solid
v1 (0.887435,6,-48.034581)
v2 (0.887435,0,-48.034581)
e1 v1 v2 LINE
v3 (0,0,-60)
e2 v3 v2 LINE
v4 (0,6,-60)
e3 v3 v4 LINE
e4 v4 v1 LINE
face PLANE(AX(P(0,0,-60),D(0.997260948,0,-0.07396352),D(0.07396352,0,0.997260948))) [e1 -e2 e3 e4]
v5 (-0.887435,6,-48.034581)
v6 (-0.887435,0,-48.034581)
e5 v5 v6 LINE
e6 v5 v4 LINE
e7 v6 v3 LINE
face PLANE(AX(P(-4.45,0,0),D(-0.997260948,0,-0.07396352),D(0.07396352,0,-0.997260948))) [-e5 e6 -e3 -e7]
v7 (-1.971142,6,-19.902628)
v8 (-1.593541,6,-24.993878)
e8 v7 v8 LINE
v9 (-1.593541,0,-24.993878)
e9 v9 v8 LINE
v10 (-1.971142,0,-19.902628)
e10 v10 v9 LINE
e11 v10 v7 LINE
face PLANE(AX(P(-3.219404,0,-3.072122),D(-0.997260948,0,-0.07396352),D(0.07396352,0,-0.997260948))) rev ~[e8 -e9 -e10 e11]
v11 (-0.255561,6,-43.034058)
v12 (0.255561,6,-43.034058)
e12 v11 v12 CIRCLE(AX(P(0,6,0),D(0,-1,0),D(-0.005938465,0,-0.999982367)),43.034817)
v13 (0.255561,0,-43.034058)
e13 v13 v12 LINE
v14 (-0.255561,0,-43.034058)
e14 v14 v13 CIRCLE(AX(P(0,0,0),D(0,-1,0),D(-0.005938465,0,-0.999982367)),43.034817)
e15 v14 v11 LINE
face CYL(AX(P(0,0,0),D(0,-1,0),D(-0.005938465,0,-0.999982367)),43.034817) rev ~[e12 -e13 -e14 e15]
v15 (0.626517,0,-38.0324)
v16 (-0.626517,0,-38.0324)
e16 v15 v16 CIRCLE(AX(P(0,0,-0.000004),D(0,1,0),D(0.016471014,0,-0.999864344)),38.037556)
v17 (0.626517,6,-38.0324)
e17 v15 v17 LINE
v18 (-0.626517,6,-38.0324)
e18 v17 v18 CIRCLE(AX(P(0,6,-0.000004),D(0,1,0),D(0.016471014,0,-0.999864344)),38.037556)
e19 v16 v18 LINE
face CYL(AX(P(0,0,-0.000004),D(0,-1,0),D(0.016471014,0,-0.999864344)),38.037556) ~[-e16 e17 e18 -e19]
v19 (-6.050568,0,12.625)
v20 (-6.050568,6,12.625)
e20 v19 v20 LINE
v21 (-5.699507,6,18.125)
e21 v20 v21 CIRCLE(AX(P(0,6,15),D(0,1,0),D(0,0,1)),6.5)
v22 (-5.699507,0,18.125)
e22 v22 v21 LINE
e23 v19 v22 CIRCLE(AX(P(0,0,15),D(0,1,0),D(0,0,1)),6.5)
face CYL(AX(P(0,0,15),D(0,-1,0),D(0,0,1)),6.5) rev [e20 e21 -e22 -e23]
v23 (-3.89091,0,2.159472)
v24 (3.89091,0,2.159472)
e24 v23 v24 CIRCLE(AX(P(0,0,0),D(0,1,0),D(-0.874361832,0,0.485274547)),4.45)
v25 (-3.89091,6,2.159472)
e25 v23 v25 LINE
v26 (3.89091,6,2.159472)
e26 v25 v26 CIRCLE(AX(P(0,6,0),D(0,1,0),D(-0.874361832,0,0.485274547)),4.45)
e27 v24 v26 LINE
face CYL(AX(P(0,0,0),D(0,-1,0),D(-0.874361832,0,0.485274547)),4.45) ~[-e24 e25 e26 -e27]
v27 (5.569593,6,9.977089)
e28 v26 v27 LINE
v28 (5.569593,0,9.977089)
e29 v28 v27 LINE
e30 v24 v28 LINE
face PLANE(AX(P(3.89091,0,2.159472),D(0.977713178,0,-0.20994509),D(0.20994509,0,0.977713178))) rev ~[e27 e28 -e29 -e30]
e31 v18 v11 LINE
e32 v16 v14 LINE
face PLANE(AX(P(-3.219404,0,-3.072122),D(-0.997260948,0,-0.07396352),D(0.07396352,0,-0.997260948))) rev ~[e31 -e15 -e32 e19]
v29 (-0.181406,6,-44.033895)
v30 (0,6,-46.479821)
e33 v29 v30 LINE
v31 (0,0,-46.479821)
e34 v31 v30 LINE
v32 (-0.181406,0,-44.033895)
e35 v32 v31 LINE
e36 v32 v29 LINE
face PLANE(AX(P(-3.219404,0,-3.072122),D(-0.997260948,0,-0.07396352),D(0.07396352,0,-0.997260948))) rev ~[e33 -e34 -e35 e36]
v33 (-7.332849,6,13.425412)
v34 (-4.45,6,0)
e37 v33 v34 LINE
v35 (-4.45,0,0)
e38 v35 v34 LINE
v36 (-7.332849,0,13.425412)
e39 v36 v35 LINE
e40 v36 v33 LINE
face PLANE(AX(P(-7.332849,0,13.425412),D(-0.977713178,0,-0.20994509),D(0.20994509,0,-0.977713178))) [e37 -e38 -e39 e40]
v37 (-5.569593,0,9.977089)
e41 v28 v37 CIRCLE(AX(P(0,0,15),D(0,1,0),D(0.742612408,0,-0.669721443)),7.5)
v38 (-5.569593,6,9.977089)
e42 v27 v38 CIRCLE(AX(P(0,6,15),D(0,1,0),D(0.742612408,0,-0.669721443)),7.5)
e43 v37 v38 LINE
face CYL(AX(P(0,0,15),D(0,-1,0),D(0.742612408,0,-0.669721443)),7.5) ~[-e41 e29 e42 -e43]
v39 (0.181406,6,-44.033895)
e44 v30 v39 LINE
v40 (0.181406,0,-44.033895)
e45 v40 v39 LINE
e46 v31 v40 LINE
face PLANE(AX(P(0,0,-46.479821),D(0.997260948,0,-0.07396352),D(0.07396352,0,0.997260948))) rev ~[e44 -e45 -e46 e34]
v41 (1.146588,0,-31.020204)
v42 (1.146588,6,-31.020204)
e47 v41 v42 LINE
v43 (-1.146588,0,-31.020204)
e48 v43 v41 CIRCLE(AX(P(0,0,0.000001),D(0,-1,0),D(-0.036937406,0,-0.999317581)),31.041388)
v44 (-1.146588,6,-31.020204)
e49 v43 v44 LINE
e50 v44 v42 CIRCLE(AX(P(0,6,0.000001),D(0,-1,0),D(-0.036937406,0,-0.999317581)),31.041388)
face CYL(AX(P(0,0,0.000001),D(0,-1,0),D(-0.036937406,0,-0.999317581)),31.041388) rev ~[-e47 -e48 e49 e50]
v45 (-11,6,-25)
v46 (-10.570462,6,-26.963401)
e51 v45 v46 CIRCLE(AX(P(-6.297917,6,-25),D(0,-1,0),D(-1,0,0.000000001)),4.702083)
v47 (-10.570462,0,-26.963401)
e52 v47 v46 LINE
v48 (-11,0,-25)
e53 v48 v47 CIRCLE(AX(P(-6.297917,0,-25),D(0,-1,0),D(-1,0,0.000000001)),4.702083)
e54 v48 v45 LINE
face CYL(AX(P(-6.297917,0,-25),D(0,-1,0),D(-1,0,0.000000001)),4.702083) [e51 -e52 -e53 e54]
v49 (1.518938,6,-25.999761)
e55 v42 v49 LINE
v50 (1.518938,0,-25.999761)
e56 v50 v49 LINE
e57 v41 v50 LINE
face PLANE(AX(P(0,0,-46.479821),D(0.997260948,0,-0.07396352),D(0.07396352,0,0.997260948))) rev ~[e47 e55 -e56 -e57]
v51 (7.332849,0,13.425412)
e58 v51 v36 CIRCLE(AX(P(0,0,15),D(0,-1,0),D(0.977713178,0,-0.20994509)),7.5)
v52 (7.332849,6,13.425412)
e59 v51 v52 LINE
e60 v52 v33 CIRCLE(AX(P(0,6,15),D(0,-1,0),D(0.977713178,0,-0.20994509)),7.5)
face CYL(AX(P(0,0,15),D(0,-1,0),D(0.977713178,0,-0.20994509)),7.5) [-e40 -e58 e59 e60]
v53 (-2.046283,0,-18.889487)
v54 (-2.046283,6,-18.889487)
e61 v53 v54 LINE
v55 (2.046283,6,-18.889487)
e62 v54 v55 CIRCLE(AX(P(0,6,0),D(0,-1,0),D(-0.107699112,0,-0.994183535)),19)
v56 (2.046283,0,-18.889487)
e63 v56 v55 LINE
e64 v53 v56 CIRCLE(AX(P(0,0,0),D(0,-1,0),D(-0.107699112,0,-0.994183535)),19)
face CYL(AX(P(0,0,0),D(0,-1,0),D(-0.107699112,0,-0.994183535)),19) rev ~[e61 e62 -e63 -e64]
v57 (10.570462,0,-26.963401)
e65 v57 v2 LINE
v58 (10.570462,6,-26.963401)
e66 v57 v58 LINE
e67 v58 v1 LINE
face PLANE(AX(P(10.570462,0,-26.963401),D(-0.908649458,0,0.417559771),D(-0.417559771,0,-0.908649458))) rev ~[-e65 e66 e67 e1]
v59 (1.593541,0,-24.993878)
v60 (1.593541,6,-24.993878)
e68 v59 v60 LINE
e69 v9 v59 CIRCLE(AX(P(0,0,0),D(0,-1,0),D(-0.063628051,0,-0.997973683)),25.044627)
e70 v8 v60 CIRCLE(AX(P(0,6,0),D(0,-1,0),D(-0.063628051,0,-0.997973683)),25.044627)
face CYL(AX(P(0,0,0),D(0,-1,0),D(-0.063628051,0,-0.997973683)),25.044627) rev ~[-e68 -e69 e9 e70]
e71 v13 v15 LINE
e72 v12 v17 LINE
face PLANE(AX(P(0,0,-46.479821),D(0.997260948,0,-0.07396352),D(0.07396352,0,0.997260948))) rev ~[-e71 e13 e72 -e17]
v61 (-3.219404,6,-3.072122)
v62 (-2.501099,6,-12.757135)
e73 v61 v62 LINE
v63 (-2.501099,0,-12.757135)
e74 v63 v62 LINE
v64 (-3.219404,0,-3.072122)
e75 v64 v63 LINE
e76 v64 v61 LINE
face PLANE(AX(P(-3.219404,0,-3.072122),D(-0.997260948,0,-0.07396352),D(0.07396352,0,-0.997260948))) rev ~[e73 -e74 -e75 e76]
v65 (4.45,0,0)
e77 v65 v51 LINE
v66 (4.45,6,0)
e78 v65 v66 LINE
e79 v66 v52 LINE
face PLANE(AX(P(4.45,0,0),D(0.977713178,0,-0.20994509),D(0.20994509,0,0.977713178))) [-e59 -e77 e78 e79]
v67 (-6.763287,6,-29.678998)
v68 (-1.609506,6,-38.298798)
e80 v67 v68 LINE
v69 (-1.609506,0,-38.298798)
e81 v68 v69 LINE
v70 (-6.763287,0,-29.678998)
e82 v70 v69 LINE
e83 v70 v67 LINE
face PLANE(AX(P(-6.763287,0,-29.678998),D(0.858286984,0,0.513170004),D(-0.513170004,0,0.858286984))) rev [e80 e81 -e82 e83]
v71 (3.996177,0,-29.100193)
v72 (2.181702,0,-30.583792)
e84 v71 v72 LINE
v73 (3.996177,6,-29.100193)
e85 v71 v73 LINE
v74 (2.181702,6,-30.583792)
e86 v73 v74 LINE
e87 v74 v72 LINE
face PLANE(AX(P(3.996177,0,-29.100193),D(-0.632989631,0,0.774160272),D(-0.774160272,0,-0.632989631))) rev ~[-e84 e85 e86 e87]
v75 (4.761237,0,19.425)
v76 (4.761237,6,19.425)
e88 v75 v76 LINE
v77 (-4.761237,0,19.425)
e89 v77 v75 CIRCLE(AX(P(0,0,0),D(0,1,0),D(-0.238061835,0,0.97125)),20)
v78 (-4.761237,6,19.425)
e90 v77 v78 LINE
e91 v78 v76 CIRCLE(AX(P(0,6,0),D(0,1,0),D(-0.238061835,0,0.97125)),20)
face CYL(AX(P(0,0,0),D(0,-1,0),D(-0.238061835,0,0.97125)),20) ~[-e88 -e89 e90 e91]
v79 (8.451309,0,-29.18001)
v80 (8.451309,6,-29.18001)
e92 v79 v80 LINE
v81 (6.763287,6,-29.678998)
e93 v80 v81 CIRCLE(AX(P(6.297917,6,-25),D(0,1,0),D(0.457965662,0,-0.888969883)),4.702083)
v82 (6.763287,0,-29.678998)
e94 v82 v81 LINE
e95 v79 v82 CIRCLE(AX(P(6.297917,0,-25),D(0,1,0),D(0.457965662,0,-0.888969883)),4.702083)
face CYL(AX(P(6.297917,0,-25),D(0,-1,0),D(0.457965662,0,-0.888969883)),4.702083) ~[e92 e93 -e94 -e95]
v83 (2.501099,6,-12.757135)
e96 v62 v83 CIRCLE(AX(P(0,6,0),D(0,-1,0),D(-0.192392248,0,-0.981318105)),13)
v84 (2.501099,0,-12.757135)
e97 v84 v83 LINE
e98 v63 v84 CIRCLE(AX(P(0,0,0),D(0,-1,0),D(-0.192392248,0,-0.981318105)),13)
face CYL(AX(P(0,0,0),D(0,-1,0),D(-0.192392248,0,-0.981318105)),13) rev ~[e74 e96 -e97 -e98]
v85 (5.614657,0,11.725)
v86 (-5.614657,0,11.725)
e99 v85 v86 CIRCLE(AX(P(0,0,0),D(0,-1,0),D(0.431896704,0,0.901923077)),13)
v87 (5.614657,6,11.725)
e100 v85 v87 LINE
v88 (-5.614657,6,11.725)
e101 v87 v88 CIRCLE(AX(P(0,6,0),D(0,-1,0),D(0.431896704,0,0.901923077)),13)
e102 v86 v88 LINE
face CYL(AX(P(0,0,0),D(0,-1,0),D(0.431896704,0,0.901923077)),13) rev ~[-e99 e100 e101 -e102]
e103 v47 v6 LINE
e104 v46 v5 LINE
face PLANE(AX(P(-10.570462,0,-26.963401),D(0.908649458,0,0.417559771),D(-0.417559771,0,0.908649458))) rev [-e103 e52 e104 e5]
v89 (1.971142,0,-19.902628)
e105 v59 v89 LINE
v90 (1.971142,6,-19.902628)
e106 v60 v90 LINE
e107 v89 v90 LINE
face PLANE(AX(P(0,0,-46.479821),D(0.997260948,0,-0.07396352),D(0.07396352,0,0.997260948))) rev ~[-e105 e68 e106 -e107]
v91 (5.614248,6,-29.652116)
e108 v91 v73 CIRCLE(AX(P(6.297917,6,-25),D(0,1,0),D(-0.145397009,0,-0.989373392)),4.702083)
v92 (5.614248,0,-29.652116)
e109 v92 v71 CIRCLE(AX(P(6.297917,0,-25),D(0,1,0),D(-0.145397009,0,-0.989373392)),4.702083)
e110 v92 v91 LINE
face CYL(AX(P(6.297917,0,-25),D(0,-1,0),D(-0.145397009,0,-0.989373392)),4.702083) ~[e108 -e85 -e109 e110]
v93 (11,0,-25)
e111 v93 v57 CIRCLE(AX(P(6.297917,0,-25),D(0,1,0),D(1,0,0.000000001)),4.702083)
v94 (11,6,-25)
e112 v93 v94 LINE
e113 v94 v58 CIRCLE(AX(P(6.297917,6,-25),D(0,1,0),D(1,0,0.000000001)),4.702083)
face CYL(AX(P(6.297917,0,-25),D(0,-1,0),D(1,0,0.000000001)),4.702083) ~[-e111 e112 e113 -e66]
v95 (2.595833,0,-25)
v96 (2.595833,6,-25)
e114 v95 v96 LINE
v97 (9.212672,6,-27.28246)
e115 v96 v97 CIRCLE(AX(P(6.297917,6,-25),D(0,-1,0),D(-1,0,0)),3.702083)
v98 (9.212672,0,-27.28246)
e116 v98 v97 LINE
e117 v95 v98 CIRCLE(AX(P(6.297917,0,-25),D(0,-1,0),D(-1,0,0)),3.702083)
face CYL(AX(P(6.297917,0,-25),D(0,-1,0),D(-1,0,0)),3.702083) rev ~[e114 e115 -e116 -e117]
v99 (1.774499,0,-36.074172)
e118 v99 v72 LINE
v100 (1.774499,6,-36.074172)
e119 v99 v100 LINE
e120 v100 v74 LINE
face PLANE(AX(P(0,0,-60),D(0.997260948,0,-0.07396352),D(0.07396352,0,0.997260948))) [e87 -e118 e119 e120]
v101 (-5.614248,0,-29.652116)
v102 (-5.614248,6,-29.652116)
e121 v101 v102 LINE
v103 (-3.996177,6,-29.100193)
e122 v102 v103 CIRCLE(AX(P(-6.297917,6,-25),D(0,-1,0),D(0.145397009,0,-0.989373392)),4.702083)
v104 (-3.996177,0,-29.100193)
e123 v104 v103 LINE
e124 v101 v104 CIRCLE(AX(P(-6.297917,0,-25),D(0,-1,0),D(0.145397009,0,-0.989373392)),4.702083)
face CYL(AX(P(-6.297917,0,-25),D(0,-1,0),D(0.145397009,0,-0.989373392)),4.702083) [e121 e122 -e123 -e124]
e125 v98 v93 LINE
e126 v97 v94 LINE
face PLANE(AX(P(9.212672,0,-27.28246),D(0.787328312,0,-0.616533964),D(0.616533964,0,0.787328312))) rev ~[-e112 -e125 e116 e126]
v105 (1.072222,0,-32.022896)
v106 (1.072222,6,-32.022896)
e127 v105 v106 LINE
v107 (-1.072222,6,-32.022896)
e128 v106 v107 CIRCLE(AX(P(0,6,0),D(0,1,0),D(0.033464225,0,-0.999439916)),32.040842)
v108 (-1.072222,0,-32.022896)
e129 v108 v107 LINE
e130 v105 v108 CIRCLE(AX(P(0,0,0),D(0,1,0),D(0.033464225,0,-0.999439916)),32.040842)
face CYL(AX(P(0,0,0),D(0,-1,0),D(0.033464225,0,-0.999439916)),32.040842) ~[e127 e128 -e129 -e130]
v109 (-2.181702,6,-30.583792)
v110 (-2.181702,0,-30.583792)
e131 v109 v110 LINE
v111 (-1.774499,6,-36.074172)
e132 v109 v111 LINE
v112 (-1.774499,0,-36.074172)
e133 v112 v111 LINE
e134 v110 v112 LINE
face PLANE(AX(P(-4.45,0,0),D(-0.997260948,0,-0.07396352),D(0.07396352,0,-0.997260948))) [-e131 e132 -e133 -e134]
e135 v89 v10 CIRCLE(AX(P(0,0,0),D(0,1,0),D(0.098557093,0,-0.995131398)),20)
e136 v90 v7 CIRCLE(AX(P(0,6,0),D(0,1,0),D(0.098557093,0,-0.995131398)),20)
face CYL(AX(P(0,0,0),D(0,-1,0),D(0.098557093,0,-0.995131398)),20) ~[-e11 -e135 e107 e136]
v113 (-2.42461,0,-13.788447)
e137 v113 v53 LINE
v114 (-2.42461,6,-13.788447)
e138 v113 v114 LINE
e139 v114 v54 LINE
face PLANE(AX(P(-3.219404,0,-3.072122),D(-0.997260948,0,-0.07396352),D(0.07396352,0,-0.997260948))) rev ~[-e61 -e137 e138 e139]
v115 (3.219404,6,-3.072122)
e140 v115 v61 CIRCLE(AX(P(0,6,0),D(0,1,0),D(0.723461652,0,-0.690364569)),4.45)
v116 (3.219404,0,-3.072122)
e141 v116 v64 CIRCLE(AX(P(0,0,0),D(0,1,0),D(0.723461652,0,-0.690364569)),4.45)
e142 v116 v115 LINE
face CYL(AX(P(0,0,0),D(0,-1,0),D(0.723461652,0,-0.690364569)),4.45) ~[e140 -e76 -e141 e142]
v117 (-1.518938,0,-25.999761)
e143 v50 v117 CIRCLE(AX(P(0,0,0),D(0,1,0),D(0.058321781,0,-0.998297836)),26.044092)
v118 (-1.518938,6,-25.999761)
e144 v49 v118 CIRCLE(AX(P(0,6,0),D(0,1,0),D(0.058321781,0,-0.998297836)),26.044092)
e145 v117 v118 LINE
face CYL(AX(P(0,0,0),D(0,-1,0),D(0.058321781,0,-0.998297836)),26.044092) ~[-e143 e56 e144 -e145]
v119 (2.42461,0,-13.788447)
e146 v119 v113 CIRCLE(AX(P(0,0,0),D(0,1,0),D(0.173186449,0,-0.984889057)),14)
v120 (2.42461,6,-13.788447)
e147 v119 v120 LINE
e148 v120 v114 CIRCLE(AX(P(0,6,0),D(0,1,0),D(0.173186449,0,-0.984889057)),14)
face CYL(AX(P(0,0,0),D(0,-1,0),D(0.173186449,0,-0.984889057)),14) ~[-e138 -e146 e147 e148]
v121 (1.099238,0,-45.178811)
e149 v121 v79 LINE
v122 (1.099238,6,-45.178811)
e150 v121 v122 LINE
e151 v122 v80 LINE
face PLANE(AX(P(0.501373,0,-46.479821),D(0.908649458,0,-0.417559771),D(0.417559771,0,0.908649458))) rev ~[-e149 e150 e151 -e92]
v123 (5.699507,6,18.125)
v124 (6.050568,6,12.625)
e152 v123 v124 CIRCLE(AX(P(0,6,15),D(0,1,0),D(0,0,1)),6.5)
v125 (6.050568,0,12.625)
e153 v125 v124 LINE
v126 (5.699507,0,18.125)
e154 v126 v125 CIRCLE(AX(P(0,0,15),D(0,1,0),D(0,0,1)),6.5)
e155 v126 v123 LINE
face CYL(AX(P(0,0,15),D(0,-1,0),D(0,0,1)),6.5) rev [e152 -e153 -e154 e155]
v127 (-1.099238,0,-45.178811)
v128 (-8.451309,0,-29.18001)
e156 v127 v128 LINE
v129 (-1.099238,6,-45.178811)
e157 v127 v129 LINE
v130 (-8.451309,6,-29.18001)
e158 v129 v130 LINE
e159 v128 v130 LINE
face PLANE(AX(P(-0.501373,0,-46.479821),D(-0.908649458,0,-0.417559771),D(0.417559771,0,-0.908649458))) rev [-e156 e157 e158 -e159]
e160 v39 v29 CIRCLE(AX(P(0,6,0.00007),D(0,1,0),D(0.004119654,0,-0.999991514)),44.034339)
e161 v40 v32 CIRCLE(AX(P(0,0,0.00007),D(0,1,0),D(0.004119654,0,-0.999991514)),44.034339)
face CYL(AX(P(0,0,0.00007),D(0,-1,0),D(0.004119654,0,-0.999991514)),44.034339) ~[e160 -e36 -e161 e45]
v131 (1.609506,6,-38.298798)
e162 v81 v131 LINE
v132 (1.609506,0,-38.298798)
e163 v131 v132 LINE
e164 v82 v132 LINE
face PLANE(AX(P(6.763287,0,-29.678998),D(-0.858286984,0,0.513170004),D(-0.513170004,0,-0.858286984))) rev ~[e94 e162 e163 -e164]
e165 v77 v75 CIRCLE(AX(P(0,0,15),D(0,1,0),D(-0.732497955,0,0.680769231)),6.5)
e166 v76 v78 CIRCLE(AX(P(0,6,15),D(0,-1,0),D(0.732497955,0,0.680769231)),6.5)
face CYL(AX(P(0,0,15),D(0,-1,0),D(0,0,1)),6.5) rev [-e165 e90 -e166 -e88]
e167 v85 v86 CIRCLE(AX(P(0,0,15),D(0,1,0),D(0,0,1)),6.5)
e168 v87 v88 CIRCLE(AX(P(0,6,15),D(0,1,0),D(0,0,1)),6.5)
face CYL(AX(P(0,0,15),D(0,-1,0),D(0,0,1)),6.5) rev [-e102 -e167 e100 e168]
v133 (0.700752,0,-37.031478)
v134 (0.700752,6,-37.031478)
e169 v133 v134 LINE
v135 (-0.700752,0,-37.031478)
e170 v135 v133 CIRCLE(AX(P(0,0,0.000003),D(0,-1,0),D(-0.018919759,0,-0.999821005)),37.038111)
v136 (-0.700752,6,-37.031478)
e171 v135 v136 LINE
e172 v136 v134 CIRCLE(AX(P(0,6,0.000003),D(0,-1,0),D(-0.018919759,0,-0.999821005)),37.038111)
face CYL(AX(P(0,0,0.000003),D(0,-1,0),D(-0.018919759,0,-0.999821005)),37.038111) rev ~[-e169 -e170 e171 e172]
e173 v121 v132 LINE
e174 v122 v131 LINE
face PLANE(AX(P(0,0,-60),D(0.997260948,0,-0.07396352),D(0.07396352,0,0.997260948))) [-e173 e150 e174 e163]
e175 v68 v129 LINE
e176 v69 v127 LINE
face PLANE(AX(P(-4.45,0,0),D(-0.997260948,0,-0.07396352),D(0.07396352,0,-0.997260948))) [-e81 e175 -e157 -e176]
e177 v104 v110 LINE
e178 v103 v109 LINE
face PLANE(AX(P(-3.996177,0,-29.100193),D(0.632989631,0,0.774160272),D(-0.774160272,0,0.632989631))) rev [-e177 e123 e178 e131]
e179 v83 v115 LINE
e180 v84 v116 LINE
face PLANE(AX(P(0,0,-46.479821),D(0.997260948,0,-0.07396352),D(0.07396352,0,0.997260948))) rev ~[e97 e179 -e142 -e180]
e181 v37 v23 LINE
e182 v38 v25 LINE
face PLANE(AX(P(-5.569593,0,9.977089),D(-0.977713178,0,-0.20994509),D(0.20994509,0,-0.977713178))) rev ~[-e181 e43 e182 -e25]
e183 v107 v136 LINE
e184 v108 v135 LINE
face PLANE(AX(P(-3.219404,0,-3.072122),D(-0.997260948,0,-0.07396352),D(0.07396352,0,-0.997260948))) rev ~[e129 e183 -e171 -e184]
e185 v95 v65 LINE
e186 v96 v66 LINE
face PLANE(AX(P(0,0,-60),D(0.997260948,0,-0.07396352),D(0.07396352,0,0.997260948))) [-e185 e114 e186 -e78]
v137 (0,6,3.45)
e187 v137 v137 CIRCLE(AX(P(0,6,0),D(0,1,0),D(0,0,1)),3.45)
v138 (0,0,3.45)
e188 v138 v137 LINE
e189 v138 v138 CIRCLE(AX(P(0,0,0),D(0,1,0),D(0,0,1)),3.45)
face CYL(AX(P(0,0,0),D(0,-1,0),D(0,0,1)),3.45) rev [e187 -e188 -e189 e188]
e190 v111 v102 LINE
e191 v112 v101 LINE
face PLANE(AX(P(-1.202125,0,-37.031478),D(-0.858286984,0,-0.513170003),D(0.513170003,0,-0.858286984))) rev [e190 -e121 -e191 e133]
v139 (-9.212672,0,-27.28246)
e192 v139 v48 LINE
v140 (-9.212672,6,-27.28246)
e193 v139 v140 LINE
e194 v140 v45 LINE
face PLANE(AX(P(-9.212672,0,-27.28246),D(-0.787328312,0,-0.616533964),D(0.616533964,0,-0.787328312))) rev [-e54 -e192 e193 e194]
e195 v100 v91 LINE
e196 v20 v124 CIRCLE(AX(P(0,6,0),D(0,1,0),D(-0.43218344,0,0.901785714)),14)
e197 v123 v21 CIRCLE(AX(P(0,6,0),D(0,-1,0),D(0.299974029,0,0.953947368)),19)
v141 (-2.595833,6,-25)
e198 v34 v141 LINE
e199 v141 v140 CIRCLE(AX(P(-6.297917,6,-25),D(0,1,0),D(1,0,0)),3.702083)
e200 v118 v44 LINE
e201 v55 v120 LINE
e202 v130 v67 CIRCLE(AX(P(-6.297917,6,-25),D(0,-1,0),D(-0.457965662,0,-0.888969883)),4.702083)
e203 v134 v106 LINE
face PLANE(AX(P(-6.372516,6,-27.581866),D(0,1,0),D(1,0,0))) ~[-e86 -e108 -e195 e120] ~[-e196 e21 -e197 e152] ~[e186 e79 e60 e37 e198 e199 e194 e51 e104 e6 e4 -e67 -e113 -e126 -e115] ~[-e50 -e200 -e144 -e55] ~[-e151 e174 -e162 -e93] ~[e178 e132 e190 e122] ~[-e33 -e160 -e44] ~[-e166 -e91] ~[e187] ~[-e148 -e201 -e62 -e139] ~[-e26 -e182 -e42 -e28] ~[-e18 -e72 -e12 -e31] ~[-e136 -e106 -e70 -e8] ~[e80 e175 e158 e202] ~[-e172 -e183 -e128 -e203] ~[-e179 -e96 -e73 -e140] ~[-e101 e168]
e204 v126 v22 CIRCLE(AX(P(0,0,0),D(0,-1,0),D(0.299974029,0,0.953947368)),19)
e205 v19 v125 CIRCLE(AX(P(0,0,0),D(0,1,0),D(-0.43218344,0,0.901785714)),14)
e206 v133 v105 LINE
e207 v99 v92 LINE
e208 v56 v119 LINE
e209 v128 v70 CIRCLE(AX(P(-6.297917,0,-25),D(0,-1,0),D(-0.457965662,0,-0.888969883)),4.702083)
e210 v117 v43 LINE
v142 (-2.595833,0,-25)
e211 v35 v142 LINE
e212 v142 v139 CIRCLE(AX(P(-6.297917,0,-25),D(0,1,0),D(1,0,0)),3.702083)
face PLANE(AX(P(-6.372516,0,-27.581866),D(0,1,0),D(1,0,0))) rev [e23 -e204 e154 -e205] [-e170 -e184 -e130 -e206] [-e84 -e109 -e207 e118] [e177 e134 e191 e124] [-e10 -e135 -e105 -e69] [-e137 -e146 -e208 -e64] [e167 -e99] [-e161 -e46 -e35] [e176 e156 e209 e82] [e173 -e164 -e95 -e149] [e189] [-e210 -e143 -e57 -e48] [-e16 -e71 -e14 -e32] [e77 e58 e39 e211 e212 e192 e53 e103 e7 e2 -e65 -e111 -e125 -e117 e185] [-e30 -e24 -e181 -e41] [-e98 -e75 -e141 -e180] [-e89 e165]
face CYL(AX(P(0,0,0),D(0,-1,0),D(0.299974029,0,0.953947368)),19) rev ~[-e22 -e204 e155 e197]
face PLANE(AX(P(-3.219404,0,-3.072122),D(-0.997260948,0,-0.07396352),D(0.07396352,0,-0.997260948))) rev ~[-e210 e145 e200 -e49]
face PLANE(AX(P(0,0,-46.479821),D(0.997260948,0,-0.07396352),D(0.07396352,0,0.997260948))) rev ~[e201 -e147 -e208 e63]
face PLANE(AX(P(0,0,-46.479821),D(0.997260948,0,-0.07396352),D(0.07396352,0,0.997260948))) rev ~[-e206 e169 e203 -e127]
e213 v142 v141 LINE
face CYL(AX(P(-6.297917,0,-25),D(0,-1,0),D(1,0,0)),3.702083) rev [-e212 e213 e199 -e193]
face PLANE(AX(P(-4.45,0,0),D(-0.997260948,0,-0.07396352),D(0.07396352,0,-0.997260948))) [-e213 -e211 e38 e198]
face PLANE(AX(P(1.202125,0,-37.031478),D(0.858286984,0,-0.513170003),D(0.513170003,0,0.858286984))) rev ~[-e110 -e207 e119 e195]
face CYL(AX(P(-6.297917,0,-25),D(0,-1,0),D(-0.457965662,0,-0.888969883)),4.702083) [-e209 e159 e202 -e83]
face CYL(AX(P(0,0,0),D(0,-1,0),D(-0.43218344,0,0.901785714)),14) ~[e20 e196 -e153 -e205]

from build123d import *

# Parameters (mm, degrees)
SKETCH1_R           = 3.45
SKETCH1_R_2         = 6.5
BOSS_EXTRUDE1_DEPTH = 6
BOSS_EXTRUDE2_DEPTH = 6
BOSS_EXTRUDE4_DEPTH = 6


with BuildPart() as part:
    # Sketch1 → Boss-Extrude1 (new body)
    with BuildSketch(Plane(origin=(0, 0, 0), x_dir=(1, 0, 0), z_dir=(0, 1, 0))):
        with BuildLine():
            Line((-4.45, 0), (0, 60))
            Line((0, 60), (4.45, 0))
            Line((4.45, 0), (7.332848837, -13.425411822))
            ThreePointArc((7.332848837, -13.425411822), (0, -22.5), (-7.332848837, -13.425411822))
            Line((-7.332848837, -13.425411822), (-4.45, 0))
        make_face()
        with Locations(Location((0, 0, 0), (0, 0, 270))):
            Circle(SKETCH1_R, mode=Mode.SUBTRACT)
        with Locations(Location((0, -15, 0), (0, 0, 270))):
            Circle(SKETCH1_R_2, mode=Mode.SUBTRACT)
        with BuildLine():
            Line((-5.56959306, -9.977089176), (-3.890910153, -2.159471736))
            ThreePointArc((-3.890910153, -2.159471736), (0, -4.45), (3.890910153, -2.159471736))
            Line((3.890910153, -2.159471736), (5.56959306, -9.977089176))
            ThreePointArc((5.56959306, -9.977089176), (0, -7.5), (-5.56959306, -9.977089176))
        make_face(mode=Mode.SUBTRACT)
        with BuildLine():
            Line((-3.219404352, 3.072122332), (0, 46.479821455))
            Line((0, 46.479821455), (3.219404352, 3.072122332))
            ThreePointArc((3.219404352, 3.072122332), (0, 4.45), (-3.219404352, 3.072122332))
        make_face(mode=Mode.SUBTRACT)
    extrude(amount=BOSS_EXTRUDE1_DEPTH)

    # Sketch3 → Boss-Extrude2 (add)
    with BuildSketch(Plane(origin=(0, 0, 0), x_dir=(1, 0, 0), z_dir=(0, 1, 0))):
        with BuildLine():
            Line((-2.424610287, 13.788446793), (-2.501099218, 12.757135364))
            ThreePointArc((-2.501099218, 12.757135364), (0, 13), (2.501099218, 12.757135364))
            Line((2.501099218, 12.757135364), (2.424610287, 13.788446793))
            ThreePointArc((2.424610287, 13.788446793), (0, 14), (-2.424610287, 13.788446793))
        make_face()
        with BuildLine():
            Line((-1.971141851, 19.902627962), (-2.046283127, 18.889487165))
            ThreePointArc((-2.046283127, 18.889487165), (0, 19), (2.046283127, 18.889487165))
            Line((2.046283127, 18.889487165), (1.971141851, 19.902627962))
            ThreePointArc((1.971141851, 19.902627962), (0, 20), (-1.971141851, 19.902627962))
        make_face()
        with BuildLine():
            Line((-1.518937845, 25.999760627), (-1.593540779, 24.993878368))
            ThreePointArc((-1.593540779, 24.993878368), (0, 25.044626731), (1.593540779, 24.993878368))
            Line((1.593540779, 24.993878368), (1.518937845, 25.999760627))
            ThreePointArc((1.518937845, 25.999760627), (0, 26.044091937), (-1.518937845, 25.999760627))
        make_face()
        with BuildLine():
            Line((-1.072221947, 32.022896321), (-1.146588325, 31.020203596))
            ThreePointArc((-1.146588325, 31.020203596), (0, 31.041386823), (1.146588325, 31.020203596))
            Line((1.146588325, 31.020203596), (1.072221947, 32.022896321))
            ThreePointArc((1.072221947, 32.022896321), (0, 32.040841885), (-1.072221947, 32.022896321))
        make_face()
        with BuildLine():
            Line((-0.626517111, 38.032399738), (-0.700752129, 37.031478145))
            ThreePointArc((-0.700752129, 37.031478145), (0, 37.038107769), (0.700752129, 37.031478145))
            Line((0.700752129, 37.031478145), (0.626517111, 38.032399738))
            ThreePointArc((0.626517111, 38.032399738), (0, 38.037559774), (-0.626517111, 38.032399738))
        make_face()
        with BuildLine():
            Line((-0.181406226, 44.033894812), (-0.255560758, 43.034058423))
            ThreePointArc((-0.255560758, 43.034058423), (0, 43.034817249), (0.255560758, 43.034058423))
            Line((0.255560758, 43.034058423), (0.181406226, 44.033894812))
            ThreePointArc((0.181406226, 44.033894812), (0, 44.034268479), (-0.181406226, 44.033894812))
        make_face()
        with BuildLine():
            ThreePointArc((4.761236709, -19.425), (5.270605983, -18.804038982), (5.699506558, -18.125))
            ThreePointArc((5.699506558, -18.125), (0, -19), (-5.699506558, -18.125))
            ThreePointArc((-5.699506558, -18.125), (-5.270605983, -18.804038982), (-4.761236709, -19.425))
            ThreePointArc((-4.761236709, -19.425), (0, -20), (4.761236709, -19.425))
        make_face()
        with BuildLine():
            ThreePointArc((-5.614657158, -11.725), (-5.849946188, -12.166604581), (-6.050568155, -12.625))
            ThreePointArc((-6.050568155, -12.625), (0, -14), (6.050568155, -12.625))
            ThreePointArc((6.050568155, -12.625), (5.849946188, -12.166604581), (5.614657158, -11.725))
            ThreePointArc((5.614657158, -11.725), (0, -13), (-5.614657158, -11.725))
        make_face()
    extrude(amount=BOSS_EXTRUDE2_DEPTH)

    # Sketch5 → Boss-Extrude4 (add)
    with BuildSketch(Plane(origin=(0, 0, 0), x_dir=(1, 0, 0), z_dir=(0, 1, 0))):
        with BuildLine():
            Line((9.212671688, 27.282460114), (11, 25))
            ThreePointArc((11, 25), (10.891360502, 26.004918608), (10.570462139, 26.963400841))
            ThreePointArc((10.570462139, 26.963400841), (9.696667899, 28.24931958), (8.451309377, 29.180010468))
            ThreePointArc((8.451309377, 29.180010468), (7.63085583, 29.509197363), (6.763286857, 29.67899757))
            ThreePointArc((6.763286857, 29.67899757), (6.1879429, 29.700797107), (5.614247813, 29.652116139))
            ThreePointArc((5.614247813, 29.652116139), (4.779917704, 29.450310868), (3.996176977, 29.100192931))
            ThreePointArc((3.996176977, 29.100192931), (3.558596441, 28.82174206), (3.154345742, 28.496791317))
            ThreePointArc((3.154345742, 28.496791317), (2.463689343, 27.721817132), (1.959907971, 26.814185279))
            Line((1.959907971, 26.814185279), (2.094460046, 25))
            Line((2.094460046, 25), (2.595833333, 25))
            ThreePointArc((2.595833333, 25), (5.090697751, 28.499720488), (9.212671688, 27.282460114))
        make_face()
        with BuildLine():
            Line((1.647961612, 31.020203596), (1.749949079, 29.645091687))
            Line((1.749949079, 29.645091687), (3.154345742, 28.496791317))
            ThreePointArc((3.154345742, 28.496791317), (3.558596441, 28.82174206), (3.996176977, 29.100192931))
            Line((3.996176977, 29.100192931), (1.647961612, 31.020203596))
        make_face()
        with BuildLine():
            ThreePointArc((5.614247813, 29.652116139), (6.1879429, 29.700797107), (6.763286857, 29.67899757))
            Line((6.763286857, 29.67899757), (1.037132306, 39.256104353))
            Line((1.037132306, 39.256104353), (1.202125417, 37.031478145))
            Line((1.202125417, 37.031478145), (5.614247813, 29.652116139))
        make_face()
        with BuildLine():
            ThreePointArc((8.451309377, 29.180010468), (9.696667899, 28.24931958), (10.570462139, 26.963400841))
            Line((10.570462139, 26.963400841), (0.289570354, 49.335591342))
            Line((0.289570354, 49.335591342), (0.501373288, 46.479821455))
            Line((0.501373288, 46.479821455), (8.451309377, 29.180010468))
        make_face()
        with BuildLine():
            Line((1.749949079, 29.645091687), (1.959907971, 26.814185279))
            ThreePointArc((1.959907971, 26.814185279), (2.463689343, 27.721817132), (3.154345742, 28.496791317))
            Line((3.154345742, 28.496791317), (1.749949079, 29.645091687))
        make_face()
    boss_extrude4 = extrude(amount=BOSS_EXTRUDE4_DEPTH)

    # Mirror1: Boss-Extrude4 across plane
    add(boss_extrude4.mirror(Plane(origin=(0, 0, 0), x_dir=(0, 0, 1), z_dir=(1, 0, 0))))


solid = part.part
